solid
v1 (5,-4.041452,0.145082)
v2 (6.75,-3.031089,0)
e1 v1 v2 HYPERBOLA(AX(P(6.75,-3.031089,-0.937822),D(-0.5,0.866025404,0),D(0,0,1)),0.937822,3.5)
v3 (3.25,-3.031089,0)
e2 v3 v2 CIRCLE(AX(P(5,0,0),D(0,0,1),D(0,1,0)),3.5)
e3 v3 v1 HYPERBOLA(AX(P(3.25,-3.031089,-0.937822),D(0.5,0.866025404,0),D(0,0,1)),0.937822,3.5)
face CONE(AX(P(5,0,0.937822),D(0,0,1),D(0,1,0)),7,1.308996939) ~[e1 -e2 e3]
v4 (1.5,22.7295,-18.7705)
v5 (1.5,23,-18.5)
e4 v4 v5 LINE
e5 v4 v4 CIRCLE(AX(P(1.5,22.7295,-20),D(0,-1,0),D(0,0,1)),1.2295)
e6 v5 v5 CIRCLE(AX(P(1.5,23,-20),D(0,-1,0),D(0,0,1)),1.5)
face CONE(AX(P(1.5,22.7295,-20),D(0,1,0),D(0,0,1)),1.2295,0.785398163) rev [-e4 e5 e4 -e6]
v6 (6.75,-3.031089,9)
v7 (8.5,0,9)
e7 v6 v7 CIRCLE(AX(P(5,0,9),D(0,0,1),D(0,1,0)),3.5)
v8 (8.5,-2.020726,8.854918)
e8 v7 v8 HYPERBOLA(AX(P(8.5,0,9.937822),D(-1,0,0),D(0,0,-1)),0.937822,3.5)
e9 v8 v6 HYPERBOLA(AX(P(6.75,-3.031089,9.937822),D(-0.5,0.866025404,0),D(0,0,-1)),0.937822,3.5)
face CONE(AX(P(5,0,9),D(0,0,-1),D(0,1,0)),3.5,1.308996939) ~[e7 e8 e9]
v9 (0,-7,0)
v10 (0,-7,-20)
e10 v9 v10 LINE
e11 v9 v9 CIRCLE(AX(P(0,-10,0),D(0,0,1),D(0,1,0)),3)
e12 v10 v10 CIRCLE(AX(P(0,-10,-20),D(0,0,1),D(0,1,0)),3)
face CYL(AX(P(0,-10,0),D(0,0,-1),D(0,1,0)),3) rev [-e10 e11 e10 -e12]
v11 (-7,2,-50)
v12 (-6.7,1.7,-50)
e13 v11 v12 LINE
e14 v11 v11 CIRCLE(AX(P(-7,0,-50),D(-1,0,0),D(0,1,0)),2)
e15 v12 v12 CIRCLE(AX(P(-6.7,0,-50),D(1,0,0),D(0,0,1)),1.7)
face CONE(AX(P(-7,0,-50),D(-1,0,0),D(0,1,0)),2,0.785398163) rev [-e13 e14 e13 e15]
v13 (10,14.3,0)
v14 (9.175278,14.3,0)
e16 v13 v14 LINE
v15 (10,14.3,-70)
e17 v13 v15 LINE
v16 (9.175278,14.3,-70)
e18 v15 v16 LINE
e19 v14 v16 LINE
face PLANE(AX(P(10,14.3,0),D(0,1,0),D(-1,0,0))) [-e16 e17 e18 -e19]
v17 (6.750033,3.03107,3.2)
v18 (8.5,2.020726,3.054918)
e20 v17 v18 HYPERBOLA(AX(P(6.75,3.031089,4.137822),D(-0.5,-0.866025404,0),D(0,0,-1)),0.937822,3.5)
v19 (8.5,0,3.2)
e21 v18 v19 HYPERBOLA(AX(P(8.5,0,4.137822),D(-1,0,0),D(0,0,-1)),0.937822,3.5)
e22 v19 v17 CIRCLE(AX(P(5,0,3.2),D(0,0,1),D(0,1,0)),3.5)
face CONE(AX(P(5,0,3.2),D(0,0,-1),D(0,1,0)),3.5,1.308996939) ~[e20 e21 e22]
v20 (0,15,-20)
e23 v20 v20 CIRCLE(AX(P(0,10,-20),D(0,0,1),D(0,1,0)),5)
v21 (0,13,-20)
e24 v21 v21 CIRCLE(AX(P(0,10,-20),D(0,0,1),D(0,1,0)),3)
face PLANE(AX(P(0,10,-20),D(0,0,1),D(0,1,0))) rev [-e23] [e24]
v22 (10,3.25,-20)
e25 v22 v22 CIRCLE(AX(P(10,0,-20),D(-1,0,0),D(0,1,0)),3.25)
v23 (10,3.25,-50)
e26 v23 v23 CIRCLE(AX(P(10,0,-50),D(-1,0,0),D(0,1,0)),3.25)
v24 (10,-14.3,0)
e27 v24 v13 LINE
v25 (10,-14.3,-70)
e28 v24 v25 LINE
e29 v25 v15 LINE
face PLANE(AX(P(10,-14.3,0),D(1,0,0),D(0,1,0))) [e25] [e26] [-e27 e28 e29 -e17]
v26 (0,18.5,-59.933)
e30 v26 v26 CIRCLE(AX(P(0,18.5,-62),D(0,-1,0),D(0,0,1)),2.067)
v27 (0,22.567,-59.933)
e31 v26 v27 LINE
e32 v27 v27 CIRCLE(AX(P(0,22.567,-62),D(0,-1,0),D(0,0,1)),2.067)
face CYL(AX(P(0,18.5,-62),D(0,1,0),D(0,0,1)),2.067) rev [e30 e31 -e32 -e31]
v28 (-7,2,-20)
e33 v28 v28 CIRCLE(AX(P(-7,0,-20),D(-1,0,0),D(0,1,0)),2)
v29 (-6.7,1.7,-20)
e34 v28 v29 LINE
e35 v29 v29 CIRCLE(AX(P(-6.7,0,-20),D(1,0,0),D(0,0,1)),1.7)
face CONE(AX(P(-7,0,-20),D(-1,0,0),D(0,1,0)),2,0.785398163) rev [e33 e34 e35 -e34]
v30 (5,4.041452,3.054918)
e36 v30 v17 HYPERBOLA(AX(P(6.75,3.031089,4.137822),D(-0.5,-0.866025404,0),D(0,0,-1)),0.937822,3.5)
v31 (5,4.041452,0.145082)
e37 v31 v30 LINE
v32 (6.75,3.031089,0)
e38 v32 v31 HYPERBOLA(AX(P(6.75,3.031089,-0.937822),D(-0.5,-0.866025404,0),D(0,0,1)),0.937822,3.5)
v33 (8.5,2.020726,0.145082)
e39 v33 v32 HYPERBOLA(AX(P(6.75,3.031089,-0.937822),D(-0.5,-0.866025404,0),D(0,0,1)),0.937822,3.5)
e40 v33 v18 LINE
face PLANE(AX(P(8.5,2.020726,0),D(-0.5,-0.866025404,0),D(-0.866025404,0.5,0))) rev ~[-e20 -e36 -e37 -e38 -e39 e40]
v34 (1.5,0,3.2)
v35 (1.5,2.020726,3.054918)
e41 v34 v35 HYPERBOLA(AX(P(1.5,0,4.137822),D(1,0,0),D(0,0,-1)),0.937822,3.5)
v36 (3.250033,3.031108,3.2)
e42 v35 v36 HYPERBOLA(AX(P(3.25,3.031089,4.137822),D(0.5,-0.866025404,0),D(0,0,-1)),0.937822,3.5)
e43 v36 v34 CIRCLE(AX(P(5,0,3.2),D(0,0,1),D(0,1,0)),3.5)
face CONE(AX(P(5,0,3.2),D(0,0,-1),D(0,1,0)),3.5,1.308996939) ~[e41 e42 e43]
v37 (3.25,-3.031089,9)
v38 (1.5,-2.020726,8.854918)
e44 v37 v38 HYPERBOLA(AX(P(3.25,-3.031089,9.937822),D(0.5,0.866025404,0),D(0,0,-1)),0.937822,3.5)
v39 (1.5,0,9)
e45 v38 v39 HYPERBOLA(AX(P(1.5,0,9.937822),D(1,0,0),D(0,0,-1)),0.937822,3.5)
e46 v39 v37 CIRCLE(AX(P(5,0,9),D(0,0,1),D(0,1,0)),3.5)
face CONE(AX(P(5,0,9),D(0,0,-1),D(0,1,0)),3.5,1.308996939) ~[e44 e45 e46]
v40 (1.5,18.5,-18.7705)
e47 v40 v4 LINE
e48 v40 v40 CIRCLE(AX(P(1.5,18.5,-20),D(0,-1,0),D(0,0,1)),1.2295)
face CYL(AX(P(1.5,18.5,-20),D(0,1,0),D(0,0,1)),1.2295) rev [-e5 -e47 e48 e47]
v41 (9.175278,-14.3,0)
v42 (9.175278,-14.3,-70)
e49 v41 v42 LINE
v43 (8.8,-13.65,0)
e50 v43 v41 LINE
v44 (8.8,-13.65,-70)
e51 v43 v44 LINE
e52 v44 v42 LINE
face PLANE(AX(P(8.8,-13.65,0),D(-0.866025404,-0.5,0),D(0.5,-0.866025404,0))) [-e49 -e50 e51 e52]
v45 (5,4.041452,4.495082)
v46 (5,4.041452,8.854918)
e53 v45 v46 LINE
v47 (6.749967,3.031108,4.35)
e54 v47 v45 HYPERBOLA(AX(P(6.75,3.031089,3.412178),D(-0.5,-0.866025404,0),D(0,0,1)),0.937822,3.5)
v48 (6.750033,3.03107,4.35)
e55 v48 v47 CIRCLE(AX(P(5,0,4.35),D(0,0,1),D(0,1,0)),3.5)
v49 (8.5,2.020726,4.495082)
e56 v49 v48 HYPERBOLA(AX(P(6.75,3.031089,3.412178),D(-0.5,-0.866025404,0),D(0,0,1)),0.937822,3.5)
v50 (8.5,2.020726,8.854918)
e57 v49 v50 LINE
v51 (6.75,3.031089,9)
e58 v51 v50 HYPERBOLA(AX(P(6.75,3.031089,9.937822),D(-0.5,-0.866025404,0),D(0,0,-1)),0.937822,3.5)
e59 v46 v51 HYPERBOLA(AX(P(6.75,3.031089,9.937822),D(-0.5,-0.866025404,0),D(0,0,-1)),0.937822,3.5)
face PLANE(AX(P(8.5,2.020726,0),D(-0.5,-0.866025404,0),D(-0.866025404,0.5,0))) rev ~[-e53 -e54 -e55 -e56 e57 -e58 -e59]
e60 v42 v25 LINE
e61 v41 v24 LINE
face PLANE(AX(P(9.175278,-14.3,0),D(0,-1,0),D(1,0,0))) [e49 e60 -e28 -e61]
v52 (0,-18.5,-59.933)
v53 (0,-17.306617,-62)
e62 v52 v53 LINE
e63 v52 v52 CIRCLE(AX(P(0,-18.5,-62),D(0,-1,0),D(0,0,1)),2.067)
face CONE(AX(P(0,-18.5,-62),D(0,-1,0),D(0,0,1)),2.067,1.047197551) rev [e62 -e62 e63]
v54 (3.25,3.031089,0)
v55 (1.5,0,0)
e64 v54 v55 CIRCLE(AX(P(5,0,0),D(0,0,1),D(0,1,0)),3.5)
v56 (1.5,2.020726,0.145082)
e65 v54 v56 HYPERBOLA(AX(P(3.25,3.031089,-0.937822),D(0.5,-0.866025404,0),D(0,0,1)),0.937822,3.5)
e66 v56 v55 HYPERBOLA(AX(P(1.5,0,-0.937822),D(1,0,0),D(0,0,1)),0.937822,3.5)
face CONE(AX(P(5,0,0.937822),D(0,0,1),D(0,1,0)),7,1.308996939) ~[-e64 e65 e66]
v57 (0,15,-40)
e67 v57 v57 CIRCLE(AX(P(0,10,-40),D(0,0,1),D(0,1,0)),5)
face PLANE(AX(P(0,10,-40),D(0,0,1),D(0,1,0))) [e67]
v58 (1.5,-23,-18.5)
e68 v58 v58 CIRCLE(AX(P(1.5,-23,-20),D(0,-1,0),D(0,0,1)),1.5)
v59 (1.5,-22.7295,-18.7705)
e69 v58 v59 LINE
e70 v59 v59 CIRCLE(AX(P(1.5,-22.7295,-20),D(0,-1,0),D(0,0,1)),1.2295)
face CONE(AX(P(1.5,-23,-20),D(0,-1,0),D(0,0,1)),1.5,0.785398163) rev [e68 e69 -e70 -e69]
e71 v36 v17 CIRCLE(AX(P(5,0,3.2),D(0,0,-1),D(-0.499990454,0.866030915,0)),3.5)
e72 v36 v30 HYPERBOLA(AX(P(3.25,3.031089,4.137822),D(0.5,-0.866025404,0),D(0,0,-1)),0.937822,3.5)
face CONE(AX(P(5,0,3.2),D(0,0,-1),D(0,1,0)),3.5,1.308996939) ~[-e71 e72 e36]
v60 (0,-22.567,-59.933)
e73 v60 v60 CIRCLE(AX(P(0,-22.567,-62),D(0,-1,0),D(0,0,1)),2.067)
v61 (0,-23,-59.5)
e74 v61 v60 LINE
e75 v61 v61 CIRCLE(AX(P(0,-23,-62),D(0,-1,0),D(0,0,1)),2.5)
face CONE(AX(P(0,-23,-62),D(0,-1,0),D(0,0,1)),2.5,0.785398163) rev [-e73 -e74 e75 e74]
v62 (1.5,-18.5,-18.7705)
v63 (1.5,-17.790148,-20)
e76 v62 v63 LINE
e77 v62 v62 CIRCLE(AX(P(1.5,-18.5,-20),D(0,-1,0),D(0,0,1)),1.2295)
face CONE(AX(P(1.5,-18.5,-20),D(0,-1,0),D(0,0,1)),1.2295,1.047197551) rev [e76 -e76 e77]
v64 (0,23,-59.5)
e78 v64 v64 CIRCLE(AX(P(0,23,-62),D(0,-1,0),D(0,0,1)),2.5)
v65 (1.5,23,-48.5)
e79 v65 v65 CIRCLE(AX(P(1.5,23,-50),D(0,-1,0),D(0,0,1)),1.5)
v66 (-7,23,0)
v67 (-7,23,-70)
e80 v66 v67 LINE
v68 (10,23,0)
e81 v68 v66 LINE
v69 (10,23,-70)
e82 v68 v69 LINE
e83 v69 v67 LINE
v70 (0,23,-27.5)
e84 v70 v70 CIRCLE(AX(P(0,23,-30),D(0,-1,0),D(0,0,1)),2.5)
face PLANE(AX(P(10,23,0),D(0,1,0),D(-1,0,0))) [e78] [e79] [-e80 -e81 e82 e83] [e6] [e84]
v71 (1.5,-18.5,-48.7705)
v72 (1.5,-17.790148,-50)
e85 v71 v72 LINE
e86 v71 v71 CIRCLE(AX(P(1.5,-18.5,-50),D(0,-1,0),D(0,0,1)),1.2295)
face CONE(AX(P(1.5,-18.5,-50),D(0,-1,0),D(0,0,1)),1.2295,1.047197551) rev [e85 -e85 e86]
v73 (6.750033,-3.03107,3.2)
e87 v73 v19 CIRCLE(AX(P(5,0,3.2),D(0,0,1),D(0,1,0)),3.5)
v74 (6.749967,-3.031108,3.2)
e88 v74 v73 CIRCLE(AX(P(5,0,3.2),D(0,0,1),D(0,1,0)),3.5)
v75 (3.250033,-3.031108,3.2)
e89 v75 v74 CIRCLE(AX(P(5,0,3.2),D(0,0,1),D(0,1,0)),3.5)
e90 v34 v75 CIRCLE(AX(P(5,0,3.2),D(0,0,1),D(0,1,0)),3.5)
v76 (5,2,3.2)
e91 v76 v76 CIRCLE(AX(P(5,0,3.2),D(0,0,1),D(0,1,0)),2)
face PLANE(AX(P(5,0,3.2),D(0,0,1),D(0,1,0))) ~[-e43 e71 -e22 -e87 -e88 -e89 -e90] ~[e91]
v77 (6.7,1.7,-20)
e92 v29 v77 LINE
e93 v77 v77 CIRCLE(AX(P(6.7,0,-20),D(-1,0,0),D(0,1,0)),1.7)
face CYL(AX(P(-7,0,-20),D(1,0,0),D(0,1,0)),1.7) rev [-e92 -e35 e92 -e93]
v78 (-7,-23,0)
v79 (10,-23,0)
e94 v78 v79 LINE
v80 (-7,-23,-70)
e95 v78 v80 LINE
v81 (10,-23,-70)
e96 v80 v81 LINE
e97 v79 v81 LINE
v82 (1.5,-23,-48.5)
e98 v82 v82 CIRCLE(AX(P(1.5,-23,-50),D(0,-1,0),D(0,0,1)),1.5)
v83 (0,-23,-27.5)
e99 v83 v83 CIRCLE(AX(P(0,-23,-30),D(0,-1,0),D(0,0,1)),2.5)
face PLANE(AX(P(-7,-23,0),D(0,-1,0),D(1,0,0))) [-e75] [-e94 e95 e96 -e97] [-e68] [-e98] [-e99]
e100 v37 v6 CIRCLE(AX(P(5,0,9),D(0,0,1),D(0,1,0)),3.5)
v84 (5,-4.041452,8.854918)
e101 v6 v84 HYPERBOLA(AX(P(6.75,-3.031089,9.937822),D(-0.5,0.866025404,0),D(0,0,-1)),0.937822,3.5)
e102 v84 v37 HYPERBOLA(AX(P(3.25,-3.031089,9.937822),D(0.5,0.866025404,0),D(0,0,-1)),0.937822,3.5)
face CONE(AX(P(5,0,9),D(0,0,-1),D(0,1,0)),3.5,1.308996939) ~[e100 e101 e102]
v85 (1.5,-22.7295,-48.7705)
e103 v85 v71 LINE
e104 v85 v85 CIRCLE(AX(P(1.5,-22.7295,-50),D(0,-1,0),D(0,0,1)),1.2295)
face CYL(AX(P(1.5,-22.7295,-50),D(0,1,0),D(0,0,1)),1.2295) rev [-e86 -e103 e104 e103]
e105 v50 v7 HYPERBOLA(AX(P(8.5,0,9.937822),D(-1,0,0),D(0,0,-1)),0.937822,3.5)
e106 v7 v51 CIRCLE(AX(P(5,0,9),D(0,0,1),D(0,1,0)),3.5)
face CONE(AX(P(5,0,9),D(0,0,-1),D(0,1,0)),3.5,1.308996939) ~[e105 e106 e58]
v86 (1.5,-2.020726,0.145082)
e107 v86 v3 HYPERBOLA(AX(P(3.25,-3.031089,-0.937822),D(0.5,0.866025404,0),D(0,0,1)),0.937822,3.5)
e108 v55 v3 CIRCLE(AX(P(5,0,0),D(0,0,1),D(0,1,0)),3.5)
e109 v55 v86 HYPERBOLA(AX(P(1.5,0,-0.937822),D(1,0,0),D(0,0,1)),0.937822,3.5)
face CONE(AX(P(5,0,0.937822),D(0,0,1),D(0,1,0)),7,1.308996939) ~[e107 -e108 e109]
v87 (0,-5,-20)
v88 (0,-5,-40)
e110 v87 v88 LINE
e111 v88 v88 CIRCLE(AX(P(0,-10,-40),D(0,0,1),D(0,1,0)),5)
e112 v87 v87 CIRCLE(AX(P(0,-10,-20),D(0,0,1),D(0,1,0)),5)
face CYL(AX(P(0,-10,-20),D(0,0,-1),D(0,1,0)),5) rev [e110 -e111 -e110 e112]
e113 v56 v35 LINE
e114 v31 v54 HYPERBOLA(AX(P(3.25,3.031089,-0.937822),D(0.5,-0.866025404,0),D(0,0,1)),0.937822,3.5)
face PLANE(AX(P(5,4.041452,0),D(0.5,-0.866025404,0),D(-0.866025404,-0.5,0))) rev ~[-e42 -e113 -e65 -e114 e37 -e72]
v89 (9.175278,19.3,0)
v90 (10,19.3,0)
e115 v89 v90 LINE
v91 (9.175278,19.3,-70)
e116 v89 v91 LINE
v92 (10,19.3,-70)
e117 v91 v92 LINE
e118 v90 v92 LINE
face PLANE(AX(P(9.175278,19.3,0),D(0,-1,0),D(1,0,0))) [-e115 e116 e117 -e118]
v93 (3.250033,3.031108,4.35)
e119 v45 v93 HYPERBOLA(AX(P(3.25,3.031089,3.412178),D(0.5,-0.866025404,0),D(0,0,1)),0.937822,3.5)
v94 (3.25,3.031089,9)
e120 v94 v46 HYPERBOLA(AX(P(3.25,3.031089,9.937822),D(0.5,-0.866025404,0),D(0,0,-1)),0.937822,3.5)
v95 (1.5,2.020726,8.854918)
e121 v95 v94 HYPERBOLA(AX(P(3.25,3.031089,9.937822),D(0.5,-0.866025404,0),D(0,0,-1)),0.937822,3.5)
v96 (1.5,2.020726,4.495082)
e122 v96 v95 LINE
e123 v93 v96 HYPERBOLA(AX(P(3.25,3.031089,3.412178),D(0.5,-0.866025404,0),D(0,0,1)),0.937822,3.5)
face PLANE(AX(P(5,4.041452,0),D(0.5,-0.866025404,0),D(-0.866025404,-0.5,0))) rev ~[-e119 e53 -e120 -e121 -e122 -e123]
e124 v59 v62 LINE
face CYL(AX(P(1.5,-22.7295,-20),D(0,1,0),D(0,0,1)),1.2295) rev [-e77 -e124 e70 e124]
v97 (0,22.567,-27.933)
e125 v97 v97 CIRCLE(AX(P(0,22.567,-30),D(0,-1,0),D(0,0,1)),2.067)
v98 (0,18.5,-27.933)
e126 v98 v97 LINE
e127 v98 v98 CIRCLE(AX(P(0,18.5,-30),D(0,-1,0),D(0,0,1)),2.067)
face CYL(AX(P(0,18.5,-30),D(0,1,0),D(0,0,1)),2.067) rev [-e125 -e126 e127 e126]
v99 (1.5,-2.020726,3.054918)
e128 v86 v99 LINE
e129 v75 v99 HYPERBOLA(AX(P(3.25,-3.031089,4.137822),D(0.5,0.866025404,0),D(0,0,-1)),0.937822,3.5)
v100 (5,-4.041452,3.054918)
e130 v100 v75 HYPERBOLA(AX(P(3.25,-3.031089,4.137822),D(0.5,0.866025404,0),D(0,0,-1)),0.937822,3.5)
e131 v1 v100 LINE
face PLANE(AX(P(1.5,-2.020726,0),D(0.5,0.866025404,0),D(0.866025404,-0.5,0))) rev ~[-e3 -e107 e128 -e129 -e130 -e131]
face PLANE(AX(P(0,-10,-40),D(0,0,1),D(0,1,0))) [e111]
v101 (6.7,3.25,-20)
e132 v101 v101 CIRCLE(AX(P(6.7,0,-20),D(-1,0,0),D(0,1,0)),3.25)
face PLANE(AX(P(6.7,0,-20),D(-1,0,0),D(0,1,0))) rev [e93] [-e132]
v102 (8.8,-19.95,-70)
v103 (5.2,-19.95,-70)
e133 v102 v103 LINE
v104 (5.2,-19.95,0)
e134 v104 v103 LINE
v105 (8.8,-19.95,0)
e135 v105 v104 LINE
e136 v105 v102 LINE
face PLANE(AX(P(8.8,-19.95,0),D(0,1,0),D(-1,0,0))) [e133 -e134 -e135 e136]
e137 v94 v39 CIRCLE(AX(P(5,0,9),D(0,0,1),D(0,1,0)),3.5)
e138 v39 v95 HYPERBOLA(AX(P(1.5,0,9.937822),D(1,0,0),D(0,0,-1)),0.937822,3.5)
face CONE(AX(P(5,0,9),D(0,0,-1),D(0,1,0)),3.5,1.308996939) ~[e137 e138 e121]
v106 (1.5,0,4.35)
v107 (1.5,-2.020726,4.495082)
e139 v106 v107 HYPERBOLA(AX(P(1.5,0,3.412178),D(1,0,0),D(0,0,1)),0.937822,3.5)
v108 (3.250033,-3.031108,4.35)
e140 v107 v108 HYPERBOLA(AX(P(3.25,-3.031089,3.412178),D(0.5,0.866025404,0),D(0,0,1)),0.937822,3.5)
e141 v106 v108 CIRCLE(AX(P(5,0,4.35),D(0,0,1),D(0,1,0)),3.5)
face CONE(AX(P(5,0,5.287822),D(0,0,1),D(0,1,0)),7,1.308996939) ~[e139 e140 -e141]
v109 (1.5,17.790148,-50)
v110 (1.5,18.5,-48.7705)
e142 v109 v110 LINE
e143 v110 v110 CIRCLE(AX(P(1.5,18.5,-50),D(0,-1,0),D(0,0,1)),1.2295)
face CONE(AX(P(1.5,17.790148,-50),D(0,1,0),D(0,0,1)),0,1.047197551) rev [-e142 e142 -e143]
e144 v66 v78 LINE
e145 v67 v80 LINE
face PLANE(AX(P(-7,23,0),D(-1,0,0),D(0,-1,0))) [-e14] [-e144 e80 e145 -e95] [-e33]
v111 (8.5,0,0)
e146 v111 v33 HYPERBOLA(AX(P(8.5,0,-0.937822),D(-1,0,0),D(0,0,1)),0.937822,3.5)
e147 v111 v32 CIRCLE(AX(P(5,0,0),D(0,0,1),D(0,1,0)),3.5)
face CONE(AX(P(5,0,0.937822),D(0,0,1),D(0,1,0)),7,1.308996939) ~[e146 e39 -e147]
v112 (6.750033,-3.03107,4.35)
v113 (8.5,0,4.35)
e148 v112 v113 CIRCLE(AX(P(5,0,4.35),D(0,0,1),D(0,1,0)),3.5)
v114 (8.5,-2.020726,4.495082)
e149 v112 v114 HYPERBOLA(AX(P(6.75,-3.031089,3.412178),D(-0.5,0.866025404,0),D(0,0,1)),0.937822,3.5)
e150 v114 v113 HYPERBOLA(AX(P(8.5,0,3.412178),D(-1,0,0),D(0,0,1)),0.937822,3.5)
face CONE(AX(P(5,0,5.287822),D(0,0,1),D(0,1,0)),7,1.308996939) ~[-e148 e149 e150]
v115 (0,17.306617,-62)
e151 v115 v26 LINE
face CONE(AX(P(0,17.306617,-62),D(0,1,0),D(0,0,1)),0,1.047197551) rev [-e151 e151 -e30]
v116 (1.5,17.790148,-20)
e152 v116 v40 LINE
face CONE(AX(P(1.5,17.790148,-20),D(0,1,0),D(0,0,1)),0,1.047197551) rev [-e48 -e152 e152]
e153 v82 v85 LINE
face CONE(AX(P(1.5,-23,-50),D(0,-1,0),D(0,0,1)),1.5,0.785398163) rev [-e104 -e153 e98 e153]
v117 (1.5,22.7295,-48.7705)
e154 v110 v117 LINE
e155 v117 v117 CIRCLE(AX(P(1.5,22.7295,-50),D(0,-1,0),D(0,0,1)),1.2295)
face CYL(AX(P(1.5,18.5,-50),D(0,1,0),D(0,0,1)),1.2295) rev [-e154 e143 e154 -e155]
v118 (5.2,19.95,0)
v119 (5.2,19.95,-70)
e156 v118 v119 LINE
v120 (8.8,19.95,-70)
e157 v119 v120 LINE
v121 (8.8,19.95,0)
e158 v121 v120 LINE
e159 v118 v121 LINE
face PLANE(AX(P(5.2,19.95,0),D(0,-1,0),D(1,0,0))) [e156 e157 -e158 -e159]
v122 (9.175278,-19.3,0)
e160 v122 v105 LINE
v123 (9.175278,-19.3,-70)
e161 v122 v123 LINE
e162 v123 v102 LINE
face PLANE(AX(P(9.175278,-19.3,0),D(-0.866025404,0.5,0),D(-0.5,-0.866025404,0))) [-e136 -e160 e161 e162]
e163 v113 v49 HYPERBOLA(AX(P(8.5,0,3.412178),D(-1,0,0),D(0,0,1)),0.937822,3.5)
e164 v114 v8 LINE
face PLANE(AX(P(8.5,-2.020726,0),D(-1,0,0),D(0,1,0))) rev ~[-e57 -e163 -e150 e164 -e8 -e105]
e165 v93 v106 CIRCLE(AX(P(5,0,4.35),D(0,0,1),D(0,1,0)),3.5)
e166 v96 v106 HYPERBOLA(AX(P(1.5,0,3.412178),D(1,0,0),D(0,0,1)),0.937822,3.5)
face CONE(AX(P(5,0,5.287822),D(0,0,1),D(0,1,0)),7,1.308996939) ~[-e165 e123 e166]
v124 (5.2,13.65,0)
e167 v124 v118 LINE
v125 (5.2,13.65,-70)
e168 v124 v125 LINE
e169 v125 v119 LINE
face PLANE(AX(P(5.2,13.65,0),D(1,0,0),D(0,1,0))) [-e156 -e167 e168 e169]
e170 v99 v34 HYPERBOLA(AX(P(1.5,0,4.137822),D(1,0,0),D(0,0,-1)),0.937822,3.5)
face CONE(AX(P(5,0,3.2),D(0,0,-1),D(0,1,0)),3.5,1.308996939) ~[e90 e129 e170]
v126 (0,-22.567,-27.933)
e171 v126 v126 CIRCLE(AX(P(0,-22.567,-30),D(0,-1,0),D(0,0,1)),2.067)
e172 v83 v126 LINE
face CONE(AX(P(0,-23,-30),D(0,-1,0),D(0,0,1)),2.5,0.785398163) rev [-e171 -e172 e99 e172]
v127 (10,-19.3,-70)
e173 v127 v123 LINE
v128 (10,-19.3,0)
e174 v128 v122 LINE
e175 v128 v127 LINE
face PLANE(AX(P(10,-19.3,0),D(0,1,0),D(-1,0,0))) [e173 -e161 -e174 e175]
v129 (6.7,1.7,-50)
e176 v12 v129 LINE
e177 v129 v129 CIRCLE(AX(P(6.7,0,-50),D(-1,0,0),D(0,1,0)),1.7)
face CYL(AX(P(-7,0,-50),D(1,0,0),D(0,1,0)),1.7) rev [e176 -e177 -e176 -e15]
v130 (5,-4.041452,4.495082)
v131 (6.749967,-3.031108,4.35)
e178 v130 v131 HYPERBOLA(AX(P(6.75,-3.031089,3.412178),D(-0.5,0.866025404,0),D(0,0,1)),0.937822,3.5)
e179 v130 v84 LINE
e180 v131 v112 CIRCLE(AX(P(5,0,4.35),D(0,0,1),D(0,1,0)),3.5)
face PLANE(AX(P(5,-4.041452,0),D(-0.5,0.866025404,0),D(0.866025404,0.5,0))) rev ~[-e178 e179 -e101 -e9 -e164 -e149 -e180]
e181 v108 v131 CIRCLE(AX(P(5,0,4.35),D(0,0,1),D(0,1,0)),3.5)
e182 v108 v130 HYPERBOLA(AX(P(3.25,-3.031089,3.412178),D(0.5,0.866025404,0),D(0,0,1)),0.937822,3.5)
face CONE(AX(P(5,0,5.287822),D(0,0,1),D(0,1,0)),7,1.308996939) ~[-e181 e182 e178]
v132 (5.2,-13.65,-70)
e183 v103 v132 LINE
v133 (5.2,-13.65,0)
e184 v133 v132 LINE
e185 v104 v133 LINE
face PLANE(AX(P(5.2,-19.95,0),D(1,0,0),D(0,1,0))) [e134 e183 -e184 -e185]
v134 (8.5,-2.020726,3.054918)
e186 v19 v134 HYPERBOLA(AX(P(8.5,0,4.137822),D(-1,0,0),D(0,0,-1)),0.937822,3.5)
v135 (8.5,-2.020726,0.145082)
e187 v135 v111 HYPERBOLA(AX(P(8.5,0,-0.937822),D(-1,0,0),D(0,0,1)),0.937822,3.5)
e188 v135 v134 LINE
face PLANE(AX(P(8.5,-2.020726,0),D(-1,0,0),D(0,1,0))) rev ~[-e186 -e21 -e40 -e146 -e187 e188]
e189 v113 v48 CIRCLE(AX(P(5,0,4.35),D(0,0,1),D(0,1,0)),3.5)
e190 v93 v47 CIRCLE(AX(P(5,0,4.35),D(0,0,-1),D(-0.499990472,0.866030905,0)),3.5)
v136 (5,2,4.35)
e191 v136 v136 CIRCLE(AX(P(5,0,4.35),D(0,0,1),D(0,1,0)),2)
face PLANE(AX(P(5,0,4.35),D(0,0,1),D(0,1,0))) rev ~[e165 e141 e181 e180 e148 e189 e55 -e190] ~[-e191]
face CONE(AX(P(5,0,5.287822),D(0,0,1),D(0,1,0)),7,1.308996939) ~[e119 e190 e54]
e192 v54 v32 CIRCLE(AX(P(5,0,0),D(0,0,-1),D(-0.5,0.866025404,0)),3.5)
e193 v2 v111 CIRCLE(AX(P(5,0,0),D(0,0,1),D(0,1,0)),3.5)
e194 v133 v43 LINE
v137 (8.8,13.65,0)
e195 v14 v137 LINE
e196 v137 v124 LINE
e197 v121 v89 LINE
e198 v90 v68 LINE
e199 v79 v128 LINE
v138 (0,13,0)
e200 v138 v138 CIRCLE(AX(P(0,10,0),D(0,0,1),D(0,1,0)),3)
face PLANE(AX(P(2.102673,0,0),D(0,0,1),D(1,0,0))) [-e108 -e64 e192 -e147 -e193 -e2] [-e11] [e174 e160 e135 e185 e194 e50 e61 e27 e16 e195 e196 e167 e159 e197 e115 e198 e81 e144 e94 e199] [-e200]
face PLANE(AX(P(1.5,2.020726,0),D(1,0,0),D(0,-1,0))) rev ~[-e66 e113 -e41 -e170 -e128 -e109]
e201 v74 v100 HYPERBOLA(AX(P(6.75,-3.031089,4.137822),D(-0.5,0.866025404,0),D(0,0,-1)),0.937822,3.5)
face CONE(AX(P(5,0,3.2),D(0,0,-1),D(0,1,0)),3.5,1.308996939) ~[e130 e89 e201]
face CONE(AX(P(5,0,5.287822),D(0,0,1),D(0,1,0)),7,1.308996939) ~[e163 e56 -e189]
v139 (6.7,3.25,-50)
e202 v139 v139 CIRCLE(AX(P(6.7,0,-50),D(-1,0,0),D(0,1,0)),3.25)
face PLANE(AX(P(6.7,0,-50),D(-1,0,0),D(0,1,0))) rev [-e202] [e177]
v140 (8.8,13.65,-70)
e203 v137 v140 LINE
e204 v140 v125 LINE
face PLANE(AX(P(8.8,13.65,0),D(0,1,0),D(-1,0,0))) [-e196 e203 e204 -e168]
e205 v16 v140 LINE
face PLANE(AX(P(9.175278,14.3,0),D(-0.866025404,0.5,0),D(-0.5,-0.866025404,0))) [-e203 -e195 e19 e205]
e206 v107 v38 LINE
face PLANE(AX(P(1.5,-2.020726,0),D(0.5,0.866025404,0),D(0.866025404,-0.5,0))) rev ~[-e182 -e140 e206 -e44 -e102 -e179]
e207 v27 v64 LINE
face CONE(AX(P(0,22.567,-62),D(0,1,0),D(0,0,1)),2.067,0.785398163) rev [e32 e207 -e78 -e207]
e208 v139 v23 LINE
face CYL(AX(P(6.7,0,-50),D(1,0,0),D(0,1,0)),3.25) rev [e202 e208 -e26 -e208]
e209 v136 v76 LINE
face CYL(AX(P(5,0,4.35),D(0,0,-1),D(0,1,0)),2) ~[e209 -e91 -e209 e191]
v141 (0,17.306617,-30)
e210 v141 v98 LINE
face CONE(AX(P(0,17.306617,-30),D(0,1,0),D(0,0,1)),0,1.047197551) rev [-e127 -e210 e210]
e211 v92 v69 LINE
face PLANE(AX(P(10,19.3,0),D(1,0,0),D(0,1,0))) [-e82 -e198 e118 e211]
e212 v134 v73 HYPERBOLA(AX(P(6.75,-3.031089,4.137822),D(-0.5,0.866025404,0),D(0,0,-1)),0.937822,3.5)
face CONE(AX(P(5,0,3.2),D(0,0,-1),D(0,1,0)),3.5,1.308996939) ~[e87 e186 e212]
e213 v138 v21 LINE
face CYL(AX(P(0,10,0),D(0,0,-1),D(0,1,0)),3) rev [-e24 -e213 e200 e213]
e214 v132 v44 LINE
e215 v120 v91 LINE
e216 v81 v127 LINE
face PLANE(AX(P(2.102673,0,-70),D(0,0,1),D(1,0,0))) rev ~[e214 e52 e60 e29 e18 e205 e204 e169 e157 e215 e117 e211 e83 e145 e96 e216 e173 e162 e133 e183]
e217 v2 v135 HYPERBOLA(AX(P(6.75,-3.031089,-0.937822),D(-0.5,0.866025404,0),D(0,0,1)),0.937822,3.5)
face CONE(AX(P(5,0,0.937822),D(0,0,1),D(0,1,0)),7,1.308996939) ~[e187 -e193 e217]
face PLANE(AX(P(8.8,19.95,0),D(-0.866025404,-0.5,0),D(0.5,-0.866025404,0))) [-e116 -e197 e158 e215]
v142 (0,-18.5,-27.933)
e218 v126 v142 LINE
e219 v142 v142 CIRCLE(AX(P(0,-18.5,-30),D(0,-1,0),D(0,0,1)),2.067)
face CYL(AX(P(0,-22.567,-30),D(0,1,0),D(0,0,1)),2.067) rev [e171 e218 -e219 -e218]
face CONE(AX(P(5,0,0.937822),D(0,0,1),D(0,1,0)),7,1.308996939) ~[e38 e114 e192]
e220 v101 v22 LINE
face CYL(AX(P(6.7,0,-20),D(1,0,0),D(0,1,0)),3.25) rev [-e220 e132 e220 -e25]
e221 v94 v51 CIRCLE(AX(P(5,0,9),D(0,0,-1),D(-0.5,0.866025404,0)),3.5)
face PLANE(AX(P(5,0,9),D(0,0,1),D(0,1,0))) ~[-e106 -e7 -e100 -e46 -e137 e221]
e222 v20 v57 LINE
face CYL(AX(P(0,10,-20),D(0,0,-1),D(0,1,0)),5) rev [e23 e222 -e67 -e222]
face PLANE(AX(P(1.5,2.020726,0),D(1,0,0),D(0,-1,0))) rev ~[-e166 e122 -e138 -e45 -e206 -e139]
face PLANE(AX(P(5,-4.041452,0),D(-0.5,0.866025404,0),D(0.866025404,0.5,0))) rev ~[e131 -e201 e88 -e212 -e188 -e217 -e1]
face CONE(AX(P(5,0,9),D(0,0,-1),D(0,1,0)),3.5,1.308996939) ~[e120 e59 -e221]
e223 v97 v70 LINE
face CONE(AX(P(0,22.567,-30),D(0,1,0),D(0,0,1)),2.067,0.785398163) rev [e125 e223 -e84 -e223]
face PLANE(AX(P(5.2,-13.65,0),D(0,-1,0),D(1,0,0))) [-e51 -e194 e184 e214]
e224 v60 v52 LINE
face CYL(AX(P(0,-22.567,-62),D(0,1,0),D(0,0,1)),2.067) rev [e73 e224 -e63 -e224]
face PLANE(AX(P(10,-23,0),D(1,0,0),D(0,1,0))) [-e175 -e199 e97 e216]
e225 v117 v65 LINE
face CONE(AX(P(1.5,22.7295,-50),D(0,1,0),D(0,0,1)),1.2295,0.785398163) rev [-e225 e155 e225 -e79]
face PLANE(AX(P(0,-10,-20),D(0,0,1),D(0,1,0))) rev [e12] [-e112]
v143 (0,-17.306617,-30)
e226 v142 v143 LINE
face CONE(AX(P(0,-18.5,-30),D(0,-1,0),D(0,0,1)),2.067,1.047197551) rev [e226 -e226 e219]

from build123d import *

# Parameters (mm, degrees)
EXTRUDE_1_DEPTH     = 70
SKETCH_18_R         = 8
CUT_EXTRUDE_1_DEPTH = 9


with BuildPart() as part:
    # 草图1 → 凸台-拉伸1 (new body)
    with BuildSketch(Plane.XY):
        Polygon((-7, 23), (-7, -23), (10, -23), (10, -19.3), (9.175277675, -19.3), (8.8, -19.95), (5.2, -19.95), (5.2, -13.65), (8.8, -13.65), (9.175277675, -14.3), (10, -14.3), (10, 14.3), (9.175277675, 14.3), (8.8, 13.65), (5.2, 13.65), (5.2, 19.95), (8.8, 19.95), (9.175277675, 19.3), (10, 19.3), (10, 23), align=None)
    extrude(amount=-EXTRUDE_1_DEPTH)

    # 草图2 → 切除-旋转1 (revolve, cut)
    with BuildSketch(Plane(origin=(0, 0, 0), x_dir=(0, 0, -1), z_dir=(1, 0, 0))):
        Polygon((0, 10), (0, 13), (20, 13), (20, 15), (40, 15), (40, 10), align=None)
    revolve(axis=Axis((0, 10, -40), (0, 0, 1)), mode=Mode.SUBTRACT)

    # 草图3 → 切除-旋转2 (revolve, cut)
    with BuildSketch(Plane(origin=(0, 0, 0), x_dir=(0, 0, -1), z_dir=(1, 0, 0))):
        Polygon((0, -10), (0, -7), (20, -7), (20, -5), (40, -5), (40, -10), align=None)
    revolve(axis=Axis((0, -10, -40), (0, 0, 1)), mode=Mode.SUBTRACT)

    # 草图4 → 切除-旋转3 (revolve, cut)
    with BuildSketch(Plane.XY.offset(-20)):
        Polygon((-7, 0), (-7, 1.7), (6.7, 1.7), (6.7, 3.25), (10, 3.25), (10, 0), align=None)
    revolve(axis=Axis((10, 0, -20), (-1, 0, 0)), mode=Mode.SUBTRACT)

    # 草图5 → 切除-旋转4 (revolve, cut)
    with BuildSketch(Plane.XY.offset(-50)):
        Polygon((-7, 0), (-7, 1.7), (6.7, 1.7), (6.7, 3.25), (10, 3.25), (10, 0), align=None)
    revolve(axis=Axis((10, 0, -50), (-1, 0, 0)), mode=Mode.SUBTRACT)

    # 草图6 → 切除-旋转5 (revolve, cut)
    with BuildSketch(Plane.XY.offset(-20)):
        Polygon((-7, 0), (-7, 2), (-6.621, 1.621), (0, 1.621), (0.935884786, 0), align=None)
    revolve(axis=Axis((0.935884786, 0, -20), (-1, 0, 0)), mode=Mode.SUBTRACT)

    # 草图7 → 切除-旋转6 (revolve, cut)
    with BuildSketch(Plane.XY.offset(-50)):
        Polygon((-7, 0), (-7, 2), (-6.621, 1.621), (0, 1.621), (0.935884786, 0), align=None)
    revolve(axis=Axis((0.935884786, 0, -50), (-1, 0, 0)), mode=Mode.SUBTRACT)

    # 草图8 → 切除-旋转7 (revolve, cut)
    with BuildSketch(Plane(origin=(0, 0, 0), x_dir=(0, 0, -1), z_dir=(1, 0, 0))):
        Polygon((30, 17.306616994), (27.933, 18.5), (27.933, 22.567), (27.5, 23), (30, 23), align=None)
    revolve(axis=Axis((0, 23, -30), (0, -1, 0)), mode=Mode.SUBTRACT)

    # 草图9 → 切除-旋转8 (revolve, cut)
    with BuildSketch(Plane(origin=(0, 0, 0), x_dir=(0, 0, -1), z_dir=(1, 0, 0))):
        Polygon((62, 17.306616994), (59.933, 18.5), (59.933, 22.567), (59.5, 23), (62, 23), align=None)
    revolve(axis=Axis((0, 23, -62), (0, -1, 0)), mode=Mode.SUBTRACT)

    # 草图10 → 切除-旋转9 (revolve, cut)
    with BuildSketch(Plane(origin=(0, 0, 0), x_dir=(0, 0, -1), z_dir=(1, 0, 0))):
        Polygon((30, -23), (27.5, -23), (27.933, -22.567), (27.933, -18.5), (30, -17.306616994), align=None)
    revolve(axis=Axis((0, -17.306616994, -30), (0, -1, 0)), mode=Mode.SUBTRACT)

    # 草图11 → 切除-旋转10 (revolve, cut)
    with BuildSketch(Plane(origin=(0, 0, 0), x_dir=(0, 0, -1), z_dir=(1, 0, 0))):
        Polygon((62, -23), (59.5, -23), (59.933, -22.567), (59.933, -18.5), (62, -17.306616994), align=None)
    revolve(axis=Axis((0, -17.306616994, -62), (0, -1, 0)), mode=Mode.SUBTRACT)

    # 草图12 → 切除-旋转11 (revolve, cut)
    with BuildSketch(Plane(origin=(1.5, 0, 0), x_dir=(0, 0, -1), z_dir=(1, 0, 0))):
        Polygon((20, 17.790147844), (18.7705, 18.5), (18.7705, 22.7295), (18.5, 23), (20, 23), align=None)
    revolve(axis=Axis((1.5, 23, -20), (0, -1, 0)), mode=Mode.SUBTRACT)

    # 草图13 → 切除-旋转12 (revolve, cut)
    with BuildSketch(Plane(origin=(1.5, 0, 0), x_dir=(0, 0, -1), z_dir=(1, 0, 0))):
        Polygon((50, 17.790147844), (48.7705, 18.5), (48.7705, 22.7295), (48.5, 23), (50, 23), align=None)
    revolve(axis=Axis((1.5, 23, -50), (0, -1, 0)), mode=Mode.SUBTRACT)

    # 草图14 → 切除-旋转13 (revolve, cut)
    with BuildSketch(Plane(origin=(1.5, 0, 0), x_dir=(0, 0, -1), z_dir=(1, 0, 0))):
        Polygon((20, -23), (18.5, -23), (18.7705, -22.7295), (18.7705, -18.5), (20, -17.790147844), align=None)
    revolve(axis=Axis((1.5, -17.790147844, -20), (0, -1, 0)), mode=Mode.SUBTRACT)

    # 草图15 → 切除-旋转14 (revolve, cut)
    with BuildSketch(Plane(origin=(1.5, 0, 0), x_dir=(0, 0, -1), z_dir=(1, 0, 0))):
        Polygon((50, -23), (48.5, -23), (48.7705, -22.7295), (48.7705, -18.5), (50, -17.790147844), align=None)
    revolve(axis=Axis((1.5, -17.790147844, -50), (0, -1, 0)), mode=Mode.SUBTRACT)

    # 草图16 → 旋转1 (revolve)
    with BuildSketch(Plane(origin=(5, 0, 0), x_dir=(0, 0, -1), z_dir=(1, 0, 0))):
        Polygon((-3.2, 0), (-3.2, 3.5), (-2.262177826, 7), (-0.937822174, 7), (0, 3.5), (0, 0), align=None)
    revolve(axis=Axis((5, 0, 0), (0, 0, 1)))

    # 草图17 → 旋转2 (revolve)
    with BuildSketch(Plane(origin=(5, 0, 0), x_dir=(0, 0, -1), z_dir=(1, 0, 0))):
        Polygon((-9, 0), (-9, 3.5), (-8.062177826, 7), (-5.287822174, 7), (-4.35, 3.5), (-4.35, 2), (-3.2, 2), (-3.2, 0), align=None)
    revolve(axis=Axis((5, 0, 3.2), (0, 0, 1)))

    # 草图18 → 切除-拉伸1 (cut)
    with BuildSketch(Plane.XY):
        with Locations((5, 0)):
            Circle(SKETCH_18_R)
        Polygon((1.5, 2.020725942), (1.5, -2.020725942), (5, -4.041451884), (8.5, -2.020725942), (8.5, 2.020725942), (5, 4.041451884), align=None, mode=Mode.SUBTRACT)
    extrude(amount=CUT_EXTRUDE_1_DEPTH, mode=Mode.SUBTRACT)


solid = part.part
